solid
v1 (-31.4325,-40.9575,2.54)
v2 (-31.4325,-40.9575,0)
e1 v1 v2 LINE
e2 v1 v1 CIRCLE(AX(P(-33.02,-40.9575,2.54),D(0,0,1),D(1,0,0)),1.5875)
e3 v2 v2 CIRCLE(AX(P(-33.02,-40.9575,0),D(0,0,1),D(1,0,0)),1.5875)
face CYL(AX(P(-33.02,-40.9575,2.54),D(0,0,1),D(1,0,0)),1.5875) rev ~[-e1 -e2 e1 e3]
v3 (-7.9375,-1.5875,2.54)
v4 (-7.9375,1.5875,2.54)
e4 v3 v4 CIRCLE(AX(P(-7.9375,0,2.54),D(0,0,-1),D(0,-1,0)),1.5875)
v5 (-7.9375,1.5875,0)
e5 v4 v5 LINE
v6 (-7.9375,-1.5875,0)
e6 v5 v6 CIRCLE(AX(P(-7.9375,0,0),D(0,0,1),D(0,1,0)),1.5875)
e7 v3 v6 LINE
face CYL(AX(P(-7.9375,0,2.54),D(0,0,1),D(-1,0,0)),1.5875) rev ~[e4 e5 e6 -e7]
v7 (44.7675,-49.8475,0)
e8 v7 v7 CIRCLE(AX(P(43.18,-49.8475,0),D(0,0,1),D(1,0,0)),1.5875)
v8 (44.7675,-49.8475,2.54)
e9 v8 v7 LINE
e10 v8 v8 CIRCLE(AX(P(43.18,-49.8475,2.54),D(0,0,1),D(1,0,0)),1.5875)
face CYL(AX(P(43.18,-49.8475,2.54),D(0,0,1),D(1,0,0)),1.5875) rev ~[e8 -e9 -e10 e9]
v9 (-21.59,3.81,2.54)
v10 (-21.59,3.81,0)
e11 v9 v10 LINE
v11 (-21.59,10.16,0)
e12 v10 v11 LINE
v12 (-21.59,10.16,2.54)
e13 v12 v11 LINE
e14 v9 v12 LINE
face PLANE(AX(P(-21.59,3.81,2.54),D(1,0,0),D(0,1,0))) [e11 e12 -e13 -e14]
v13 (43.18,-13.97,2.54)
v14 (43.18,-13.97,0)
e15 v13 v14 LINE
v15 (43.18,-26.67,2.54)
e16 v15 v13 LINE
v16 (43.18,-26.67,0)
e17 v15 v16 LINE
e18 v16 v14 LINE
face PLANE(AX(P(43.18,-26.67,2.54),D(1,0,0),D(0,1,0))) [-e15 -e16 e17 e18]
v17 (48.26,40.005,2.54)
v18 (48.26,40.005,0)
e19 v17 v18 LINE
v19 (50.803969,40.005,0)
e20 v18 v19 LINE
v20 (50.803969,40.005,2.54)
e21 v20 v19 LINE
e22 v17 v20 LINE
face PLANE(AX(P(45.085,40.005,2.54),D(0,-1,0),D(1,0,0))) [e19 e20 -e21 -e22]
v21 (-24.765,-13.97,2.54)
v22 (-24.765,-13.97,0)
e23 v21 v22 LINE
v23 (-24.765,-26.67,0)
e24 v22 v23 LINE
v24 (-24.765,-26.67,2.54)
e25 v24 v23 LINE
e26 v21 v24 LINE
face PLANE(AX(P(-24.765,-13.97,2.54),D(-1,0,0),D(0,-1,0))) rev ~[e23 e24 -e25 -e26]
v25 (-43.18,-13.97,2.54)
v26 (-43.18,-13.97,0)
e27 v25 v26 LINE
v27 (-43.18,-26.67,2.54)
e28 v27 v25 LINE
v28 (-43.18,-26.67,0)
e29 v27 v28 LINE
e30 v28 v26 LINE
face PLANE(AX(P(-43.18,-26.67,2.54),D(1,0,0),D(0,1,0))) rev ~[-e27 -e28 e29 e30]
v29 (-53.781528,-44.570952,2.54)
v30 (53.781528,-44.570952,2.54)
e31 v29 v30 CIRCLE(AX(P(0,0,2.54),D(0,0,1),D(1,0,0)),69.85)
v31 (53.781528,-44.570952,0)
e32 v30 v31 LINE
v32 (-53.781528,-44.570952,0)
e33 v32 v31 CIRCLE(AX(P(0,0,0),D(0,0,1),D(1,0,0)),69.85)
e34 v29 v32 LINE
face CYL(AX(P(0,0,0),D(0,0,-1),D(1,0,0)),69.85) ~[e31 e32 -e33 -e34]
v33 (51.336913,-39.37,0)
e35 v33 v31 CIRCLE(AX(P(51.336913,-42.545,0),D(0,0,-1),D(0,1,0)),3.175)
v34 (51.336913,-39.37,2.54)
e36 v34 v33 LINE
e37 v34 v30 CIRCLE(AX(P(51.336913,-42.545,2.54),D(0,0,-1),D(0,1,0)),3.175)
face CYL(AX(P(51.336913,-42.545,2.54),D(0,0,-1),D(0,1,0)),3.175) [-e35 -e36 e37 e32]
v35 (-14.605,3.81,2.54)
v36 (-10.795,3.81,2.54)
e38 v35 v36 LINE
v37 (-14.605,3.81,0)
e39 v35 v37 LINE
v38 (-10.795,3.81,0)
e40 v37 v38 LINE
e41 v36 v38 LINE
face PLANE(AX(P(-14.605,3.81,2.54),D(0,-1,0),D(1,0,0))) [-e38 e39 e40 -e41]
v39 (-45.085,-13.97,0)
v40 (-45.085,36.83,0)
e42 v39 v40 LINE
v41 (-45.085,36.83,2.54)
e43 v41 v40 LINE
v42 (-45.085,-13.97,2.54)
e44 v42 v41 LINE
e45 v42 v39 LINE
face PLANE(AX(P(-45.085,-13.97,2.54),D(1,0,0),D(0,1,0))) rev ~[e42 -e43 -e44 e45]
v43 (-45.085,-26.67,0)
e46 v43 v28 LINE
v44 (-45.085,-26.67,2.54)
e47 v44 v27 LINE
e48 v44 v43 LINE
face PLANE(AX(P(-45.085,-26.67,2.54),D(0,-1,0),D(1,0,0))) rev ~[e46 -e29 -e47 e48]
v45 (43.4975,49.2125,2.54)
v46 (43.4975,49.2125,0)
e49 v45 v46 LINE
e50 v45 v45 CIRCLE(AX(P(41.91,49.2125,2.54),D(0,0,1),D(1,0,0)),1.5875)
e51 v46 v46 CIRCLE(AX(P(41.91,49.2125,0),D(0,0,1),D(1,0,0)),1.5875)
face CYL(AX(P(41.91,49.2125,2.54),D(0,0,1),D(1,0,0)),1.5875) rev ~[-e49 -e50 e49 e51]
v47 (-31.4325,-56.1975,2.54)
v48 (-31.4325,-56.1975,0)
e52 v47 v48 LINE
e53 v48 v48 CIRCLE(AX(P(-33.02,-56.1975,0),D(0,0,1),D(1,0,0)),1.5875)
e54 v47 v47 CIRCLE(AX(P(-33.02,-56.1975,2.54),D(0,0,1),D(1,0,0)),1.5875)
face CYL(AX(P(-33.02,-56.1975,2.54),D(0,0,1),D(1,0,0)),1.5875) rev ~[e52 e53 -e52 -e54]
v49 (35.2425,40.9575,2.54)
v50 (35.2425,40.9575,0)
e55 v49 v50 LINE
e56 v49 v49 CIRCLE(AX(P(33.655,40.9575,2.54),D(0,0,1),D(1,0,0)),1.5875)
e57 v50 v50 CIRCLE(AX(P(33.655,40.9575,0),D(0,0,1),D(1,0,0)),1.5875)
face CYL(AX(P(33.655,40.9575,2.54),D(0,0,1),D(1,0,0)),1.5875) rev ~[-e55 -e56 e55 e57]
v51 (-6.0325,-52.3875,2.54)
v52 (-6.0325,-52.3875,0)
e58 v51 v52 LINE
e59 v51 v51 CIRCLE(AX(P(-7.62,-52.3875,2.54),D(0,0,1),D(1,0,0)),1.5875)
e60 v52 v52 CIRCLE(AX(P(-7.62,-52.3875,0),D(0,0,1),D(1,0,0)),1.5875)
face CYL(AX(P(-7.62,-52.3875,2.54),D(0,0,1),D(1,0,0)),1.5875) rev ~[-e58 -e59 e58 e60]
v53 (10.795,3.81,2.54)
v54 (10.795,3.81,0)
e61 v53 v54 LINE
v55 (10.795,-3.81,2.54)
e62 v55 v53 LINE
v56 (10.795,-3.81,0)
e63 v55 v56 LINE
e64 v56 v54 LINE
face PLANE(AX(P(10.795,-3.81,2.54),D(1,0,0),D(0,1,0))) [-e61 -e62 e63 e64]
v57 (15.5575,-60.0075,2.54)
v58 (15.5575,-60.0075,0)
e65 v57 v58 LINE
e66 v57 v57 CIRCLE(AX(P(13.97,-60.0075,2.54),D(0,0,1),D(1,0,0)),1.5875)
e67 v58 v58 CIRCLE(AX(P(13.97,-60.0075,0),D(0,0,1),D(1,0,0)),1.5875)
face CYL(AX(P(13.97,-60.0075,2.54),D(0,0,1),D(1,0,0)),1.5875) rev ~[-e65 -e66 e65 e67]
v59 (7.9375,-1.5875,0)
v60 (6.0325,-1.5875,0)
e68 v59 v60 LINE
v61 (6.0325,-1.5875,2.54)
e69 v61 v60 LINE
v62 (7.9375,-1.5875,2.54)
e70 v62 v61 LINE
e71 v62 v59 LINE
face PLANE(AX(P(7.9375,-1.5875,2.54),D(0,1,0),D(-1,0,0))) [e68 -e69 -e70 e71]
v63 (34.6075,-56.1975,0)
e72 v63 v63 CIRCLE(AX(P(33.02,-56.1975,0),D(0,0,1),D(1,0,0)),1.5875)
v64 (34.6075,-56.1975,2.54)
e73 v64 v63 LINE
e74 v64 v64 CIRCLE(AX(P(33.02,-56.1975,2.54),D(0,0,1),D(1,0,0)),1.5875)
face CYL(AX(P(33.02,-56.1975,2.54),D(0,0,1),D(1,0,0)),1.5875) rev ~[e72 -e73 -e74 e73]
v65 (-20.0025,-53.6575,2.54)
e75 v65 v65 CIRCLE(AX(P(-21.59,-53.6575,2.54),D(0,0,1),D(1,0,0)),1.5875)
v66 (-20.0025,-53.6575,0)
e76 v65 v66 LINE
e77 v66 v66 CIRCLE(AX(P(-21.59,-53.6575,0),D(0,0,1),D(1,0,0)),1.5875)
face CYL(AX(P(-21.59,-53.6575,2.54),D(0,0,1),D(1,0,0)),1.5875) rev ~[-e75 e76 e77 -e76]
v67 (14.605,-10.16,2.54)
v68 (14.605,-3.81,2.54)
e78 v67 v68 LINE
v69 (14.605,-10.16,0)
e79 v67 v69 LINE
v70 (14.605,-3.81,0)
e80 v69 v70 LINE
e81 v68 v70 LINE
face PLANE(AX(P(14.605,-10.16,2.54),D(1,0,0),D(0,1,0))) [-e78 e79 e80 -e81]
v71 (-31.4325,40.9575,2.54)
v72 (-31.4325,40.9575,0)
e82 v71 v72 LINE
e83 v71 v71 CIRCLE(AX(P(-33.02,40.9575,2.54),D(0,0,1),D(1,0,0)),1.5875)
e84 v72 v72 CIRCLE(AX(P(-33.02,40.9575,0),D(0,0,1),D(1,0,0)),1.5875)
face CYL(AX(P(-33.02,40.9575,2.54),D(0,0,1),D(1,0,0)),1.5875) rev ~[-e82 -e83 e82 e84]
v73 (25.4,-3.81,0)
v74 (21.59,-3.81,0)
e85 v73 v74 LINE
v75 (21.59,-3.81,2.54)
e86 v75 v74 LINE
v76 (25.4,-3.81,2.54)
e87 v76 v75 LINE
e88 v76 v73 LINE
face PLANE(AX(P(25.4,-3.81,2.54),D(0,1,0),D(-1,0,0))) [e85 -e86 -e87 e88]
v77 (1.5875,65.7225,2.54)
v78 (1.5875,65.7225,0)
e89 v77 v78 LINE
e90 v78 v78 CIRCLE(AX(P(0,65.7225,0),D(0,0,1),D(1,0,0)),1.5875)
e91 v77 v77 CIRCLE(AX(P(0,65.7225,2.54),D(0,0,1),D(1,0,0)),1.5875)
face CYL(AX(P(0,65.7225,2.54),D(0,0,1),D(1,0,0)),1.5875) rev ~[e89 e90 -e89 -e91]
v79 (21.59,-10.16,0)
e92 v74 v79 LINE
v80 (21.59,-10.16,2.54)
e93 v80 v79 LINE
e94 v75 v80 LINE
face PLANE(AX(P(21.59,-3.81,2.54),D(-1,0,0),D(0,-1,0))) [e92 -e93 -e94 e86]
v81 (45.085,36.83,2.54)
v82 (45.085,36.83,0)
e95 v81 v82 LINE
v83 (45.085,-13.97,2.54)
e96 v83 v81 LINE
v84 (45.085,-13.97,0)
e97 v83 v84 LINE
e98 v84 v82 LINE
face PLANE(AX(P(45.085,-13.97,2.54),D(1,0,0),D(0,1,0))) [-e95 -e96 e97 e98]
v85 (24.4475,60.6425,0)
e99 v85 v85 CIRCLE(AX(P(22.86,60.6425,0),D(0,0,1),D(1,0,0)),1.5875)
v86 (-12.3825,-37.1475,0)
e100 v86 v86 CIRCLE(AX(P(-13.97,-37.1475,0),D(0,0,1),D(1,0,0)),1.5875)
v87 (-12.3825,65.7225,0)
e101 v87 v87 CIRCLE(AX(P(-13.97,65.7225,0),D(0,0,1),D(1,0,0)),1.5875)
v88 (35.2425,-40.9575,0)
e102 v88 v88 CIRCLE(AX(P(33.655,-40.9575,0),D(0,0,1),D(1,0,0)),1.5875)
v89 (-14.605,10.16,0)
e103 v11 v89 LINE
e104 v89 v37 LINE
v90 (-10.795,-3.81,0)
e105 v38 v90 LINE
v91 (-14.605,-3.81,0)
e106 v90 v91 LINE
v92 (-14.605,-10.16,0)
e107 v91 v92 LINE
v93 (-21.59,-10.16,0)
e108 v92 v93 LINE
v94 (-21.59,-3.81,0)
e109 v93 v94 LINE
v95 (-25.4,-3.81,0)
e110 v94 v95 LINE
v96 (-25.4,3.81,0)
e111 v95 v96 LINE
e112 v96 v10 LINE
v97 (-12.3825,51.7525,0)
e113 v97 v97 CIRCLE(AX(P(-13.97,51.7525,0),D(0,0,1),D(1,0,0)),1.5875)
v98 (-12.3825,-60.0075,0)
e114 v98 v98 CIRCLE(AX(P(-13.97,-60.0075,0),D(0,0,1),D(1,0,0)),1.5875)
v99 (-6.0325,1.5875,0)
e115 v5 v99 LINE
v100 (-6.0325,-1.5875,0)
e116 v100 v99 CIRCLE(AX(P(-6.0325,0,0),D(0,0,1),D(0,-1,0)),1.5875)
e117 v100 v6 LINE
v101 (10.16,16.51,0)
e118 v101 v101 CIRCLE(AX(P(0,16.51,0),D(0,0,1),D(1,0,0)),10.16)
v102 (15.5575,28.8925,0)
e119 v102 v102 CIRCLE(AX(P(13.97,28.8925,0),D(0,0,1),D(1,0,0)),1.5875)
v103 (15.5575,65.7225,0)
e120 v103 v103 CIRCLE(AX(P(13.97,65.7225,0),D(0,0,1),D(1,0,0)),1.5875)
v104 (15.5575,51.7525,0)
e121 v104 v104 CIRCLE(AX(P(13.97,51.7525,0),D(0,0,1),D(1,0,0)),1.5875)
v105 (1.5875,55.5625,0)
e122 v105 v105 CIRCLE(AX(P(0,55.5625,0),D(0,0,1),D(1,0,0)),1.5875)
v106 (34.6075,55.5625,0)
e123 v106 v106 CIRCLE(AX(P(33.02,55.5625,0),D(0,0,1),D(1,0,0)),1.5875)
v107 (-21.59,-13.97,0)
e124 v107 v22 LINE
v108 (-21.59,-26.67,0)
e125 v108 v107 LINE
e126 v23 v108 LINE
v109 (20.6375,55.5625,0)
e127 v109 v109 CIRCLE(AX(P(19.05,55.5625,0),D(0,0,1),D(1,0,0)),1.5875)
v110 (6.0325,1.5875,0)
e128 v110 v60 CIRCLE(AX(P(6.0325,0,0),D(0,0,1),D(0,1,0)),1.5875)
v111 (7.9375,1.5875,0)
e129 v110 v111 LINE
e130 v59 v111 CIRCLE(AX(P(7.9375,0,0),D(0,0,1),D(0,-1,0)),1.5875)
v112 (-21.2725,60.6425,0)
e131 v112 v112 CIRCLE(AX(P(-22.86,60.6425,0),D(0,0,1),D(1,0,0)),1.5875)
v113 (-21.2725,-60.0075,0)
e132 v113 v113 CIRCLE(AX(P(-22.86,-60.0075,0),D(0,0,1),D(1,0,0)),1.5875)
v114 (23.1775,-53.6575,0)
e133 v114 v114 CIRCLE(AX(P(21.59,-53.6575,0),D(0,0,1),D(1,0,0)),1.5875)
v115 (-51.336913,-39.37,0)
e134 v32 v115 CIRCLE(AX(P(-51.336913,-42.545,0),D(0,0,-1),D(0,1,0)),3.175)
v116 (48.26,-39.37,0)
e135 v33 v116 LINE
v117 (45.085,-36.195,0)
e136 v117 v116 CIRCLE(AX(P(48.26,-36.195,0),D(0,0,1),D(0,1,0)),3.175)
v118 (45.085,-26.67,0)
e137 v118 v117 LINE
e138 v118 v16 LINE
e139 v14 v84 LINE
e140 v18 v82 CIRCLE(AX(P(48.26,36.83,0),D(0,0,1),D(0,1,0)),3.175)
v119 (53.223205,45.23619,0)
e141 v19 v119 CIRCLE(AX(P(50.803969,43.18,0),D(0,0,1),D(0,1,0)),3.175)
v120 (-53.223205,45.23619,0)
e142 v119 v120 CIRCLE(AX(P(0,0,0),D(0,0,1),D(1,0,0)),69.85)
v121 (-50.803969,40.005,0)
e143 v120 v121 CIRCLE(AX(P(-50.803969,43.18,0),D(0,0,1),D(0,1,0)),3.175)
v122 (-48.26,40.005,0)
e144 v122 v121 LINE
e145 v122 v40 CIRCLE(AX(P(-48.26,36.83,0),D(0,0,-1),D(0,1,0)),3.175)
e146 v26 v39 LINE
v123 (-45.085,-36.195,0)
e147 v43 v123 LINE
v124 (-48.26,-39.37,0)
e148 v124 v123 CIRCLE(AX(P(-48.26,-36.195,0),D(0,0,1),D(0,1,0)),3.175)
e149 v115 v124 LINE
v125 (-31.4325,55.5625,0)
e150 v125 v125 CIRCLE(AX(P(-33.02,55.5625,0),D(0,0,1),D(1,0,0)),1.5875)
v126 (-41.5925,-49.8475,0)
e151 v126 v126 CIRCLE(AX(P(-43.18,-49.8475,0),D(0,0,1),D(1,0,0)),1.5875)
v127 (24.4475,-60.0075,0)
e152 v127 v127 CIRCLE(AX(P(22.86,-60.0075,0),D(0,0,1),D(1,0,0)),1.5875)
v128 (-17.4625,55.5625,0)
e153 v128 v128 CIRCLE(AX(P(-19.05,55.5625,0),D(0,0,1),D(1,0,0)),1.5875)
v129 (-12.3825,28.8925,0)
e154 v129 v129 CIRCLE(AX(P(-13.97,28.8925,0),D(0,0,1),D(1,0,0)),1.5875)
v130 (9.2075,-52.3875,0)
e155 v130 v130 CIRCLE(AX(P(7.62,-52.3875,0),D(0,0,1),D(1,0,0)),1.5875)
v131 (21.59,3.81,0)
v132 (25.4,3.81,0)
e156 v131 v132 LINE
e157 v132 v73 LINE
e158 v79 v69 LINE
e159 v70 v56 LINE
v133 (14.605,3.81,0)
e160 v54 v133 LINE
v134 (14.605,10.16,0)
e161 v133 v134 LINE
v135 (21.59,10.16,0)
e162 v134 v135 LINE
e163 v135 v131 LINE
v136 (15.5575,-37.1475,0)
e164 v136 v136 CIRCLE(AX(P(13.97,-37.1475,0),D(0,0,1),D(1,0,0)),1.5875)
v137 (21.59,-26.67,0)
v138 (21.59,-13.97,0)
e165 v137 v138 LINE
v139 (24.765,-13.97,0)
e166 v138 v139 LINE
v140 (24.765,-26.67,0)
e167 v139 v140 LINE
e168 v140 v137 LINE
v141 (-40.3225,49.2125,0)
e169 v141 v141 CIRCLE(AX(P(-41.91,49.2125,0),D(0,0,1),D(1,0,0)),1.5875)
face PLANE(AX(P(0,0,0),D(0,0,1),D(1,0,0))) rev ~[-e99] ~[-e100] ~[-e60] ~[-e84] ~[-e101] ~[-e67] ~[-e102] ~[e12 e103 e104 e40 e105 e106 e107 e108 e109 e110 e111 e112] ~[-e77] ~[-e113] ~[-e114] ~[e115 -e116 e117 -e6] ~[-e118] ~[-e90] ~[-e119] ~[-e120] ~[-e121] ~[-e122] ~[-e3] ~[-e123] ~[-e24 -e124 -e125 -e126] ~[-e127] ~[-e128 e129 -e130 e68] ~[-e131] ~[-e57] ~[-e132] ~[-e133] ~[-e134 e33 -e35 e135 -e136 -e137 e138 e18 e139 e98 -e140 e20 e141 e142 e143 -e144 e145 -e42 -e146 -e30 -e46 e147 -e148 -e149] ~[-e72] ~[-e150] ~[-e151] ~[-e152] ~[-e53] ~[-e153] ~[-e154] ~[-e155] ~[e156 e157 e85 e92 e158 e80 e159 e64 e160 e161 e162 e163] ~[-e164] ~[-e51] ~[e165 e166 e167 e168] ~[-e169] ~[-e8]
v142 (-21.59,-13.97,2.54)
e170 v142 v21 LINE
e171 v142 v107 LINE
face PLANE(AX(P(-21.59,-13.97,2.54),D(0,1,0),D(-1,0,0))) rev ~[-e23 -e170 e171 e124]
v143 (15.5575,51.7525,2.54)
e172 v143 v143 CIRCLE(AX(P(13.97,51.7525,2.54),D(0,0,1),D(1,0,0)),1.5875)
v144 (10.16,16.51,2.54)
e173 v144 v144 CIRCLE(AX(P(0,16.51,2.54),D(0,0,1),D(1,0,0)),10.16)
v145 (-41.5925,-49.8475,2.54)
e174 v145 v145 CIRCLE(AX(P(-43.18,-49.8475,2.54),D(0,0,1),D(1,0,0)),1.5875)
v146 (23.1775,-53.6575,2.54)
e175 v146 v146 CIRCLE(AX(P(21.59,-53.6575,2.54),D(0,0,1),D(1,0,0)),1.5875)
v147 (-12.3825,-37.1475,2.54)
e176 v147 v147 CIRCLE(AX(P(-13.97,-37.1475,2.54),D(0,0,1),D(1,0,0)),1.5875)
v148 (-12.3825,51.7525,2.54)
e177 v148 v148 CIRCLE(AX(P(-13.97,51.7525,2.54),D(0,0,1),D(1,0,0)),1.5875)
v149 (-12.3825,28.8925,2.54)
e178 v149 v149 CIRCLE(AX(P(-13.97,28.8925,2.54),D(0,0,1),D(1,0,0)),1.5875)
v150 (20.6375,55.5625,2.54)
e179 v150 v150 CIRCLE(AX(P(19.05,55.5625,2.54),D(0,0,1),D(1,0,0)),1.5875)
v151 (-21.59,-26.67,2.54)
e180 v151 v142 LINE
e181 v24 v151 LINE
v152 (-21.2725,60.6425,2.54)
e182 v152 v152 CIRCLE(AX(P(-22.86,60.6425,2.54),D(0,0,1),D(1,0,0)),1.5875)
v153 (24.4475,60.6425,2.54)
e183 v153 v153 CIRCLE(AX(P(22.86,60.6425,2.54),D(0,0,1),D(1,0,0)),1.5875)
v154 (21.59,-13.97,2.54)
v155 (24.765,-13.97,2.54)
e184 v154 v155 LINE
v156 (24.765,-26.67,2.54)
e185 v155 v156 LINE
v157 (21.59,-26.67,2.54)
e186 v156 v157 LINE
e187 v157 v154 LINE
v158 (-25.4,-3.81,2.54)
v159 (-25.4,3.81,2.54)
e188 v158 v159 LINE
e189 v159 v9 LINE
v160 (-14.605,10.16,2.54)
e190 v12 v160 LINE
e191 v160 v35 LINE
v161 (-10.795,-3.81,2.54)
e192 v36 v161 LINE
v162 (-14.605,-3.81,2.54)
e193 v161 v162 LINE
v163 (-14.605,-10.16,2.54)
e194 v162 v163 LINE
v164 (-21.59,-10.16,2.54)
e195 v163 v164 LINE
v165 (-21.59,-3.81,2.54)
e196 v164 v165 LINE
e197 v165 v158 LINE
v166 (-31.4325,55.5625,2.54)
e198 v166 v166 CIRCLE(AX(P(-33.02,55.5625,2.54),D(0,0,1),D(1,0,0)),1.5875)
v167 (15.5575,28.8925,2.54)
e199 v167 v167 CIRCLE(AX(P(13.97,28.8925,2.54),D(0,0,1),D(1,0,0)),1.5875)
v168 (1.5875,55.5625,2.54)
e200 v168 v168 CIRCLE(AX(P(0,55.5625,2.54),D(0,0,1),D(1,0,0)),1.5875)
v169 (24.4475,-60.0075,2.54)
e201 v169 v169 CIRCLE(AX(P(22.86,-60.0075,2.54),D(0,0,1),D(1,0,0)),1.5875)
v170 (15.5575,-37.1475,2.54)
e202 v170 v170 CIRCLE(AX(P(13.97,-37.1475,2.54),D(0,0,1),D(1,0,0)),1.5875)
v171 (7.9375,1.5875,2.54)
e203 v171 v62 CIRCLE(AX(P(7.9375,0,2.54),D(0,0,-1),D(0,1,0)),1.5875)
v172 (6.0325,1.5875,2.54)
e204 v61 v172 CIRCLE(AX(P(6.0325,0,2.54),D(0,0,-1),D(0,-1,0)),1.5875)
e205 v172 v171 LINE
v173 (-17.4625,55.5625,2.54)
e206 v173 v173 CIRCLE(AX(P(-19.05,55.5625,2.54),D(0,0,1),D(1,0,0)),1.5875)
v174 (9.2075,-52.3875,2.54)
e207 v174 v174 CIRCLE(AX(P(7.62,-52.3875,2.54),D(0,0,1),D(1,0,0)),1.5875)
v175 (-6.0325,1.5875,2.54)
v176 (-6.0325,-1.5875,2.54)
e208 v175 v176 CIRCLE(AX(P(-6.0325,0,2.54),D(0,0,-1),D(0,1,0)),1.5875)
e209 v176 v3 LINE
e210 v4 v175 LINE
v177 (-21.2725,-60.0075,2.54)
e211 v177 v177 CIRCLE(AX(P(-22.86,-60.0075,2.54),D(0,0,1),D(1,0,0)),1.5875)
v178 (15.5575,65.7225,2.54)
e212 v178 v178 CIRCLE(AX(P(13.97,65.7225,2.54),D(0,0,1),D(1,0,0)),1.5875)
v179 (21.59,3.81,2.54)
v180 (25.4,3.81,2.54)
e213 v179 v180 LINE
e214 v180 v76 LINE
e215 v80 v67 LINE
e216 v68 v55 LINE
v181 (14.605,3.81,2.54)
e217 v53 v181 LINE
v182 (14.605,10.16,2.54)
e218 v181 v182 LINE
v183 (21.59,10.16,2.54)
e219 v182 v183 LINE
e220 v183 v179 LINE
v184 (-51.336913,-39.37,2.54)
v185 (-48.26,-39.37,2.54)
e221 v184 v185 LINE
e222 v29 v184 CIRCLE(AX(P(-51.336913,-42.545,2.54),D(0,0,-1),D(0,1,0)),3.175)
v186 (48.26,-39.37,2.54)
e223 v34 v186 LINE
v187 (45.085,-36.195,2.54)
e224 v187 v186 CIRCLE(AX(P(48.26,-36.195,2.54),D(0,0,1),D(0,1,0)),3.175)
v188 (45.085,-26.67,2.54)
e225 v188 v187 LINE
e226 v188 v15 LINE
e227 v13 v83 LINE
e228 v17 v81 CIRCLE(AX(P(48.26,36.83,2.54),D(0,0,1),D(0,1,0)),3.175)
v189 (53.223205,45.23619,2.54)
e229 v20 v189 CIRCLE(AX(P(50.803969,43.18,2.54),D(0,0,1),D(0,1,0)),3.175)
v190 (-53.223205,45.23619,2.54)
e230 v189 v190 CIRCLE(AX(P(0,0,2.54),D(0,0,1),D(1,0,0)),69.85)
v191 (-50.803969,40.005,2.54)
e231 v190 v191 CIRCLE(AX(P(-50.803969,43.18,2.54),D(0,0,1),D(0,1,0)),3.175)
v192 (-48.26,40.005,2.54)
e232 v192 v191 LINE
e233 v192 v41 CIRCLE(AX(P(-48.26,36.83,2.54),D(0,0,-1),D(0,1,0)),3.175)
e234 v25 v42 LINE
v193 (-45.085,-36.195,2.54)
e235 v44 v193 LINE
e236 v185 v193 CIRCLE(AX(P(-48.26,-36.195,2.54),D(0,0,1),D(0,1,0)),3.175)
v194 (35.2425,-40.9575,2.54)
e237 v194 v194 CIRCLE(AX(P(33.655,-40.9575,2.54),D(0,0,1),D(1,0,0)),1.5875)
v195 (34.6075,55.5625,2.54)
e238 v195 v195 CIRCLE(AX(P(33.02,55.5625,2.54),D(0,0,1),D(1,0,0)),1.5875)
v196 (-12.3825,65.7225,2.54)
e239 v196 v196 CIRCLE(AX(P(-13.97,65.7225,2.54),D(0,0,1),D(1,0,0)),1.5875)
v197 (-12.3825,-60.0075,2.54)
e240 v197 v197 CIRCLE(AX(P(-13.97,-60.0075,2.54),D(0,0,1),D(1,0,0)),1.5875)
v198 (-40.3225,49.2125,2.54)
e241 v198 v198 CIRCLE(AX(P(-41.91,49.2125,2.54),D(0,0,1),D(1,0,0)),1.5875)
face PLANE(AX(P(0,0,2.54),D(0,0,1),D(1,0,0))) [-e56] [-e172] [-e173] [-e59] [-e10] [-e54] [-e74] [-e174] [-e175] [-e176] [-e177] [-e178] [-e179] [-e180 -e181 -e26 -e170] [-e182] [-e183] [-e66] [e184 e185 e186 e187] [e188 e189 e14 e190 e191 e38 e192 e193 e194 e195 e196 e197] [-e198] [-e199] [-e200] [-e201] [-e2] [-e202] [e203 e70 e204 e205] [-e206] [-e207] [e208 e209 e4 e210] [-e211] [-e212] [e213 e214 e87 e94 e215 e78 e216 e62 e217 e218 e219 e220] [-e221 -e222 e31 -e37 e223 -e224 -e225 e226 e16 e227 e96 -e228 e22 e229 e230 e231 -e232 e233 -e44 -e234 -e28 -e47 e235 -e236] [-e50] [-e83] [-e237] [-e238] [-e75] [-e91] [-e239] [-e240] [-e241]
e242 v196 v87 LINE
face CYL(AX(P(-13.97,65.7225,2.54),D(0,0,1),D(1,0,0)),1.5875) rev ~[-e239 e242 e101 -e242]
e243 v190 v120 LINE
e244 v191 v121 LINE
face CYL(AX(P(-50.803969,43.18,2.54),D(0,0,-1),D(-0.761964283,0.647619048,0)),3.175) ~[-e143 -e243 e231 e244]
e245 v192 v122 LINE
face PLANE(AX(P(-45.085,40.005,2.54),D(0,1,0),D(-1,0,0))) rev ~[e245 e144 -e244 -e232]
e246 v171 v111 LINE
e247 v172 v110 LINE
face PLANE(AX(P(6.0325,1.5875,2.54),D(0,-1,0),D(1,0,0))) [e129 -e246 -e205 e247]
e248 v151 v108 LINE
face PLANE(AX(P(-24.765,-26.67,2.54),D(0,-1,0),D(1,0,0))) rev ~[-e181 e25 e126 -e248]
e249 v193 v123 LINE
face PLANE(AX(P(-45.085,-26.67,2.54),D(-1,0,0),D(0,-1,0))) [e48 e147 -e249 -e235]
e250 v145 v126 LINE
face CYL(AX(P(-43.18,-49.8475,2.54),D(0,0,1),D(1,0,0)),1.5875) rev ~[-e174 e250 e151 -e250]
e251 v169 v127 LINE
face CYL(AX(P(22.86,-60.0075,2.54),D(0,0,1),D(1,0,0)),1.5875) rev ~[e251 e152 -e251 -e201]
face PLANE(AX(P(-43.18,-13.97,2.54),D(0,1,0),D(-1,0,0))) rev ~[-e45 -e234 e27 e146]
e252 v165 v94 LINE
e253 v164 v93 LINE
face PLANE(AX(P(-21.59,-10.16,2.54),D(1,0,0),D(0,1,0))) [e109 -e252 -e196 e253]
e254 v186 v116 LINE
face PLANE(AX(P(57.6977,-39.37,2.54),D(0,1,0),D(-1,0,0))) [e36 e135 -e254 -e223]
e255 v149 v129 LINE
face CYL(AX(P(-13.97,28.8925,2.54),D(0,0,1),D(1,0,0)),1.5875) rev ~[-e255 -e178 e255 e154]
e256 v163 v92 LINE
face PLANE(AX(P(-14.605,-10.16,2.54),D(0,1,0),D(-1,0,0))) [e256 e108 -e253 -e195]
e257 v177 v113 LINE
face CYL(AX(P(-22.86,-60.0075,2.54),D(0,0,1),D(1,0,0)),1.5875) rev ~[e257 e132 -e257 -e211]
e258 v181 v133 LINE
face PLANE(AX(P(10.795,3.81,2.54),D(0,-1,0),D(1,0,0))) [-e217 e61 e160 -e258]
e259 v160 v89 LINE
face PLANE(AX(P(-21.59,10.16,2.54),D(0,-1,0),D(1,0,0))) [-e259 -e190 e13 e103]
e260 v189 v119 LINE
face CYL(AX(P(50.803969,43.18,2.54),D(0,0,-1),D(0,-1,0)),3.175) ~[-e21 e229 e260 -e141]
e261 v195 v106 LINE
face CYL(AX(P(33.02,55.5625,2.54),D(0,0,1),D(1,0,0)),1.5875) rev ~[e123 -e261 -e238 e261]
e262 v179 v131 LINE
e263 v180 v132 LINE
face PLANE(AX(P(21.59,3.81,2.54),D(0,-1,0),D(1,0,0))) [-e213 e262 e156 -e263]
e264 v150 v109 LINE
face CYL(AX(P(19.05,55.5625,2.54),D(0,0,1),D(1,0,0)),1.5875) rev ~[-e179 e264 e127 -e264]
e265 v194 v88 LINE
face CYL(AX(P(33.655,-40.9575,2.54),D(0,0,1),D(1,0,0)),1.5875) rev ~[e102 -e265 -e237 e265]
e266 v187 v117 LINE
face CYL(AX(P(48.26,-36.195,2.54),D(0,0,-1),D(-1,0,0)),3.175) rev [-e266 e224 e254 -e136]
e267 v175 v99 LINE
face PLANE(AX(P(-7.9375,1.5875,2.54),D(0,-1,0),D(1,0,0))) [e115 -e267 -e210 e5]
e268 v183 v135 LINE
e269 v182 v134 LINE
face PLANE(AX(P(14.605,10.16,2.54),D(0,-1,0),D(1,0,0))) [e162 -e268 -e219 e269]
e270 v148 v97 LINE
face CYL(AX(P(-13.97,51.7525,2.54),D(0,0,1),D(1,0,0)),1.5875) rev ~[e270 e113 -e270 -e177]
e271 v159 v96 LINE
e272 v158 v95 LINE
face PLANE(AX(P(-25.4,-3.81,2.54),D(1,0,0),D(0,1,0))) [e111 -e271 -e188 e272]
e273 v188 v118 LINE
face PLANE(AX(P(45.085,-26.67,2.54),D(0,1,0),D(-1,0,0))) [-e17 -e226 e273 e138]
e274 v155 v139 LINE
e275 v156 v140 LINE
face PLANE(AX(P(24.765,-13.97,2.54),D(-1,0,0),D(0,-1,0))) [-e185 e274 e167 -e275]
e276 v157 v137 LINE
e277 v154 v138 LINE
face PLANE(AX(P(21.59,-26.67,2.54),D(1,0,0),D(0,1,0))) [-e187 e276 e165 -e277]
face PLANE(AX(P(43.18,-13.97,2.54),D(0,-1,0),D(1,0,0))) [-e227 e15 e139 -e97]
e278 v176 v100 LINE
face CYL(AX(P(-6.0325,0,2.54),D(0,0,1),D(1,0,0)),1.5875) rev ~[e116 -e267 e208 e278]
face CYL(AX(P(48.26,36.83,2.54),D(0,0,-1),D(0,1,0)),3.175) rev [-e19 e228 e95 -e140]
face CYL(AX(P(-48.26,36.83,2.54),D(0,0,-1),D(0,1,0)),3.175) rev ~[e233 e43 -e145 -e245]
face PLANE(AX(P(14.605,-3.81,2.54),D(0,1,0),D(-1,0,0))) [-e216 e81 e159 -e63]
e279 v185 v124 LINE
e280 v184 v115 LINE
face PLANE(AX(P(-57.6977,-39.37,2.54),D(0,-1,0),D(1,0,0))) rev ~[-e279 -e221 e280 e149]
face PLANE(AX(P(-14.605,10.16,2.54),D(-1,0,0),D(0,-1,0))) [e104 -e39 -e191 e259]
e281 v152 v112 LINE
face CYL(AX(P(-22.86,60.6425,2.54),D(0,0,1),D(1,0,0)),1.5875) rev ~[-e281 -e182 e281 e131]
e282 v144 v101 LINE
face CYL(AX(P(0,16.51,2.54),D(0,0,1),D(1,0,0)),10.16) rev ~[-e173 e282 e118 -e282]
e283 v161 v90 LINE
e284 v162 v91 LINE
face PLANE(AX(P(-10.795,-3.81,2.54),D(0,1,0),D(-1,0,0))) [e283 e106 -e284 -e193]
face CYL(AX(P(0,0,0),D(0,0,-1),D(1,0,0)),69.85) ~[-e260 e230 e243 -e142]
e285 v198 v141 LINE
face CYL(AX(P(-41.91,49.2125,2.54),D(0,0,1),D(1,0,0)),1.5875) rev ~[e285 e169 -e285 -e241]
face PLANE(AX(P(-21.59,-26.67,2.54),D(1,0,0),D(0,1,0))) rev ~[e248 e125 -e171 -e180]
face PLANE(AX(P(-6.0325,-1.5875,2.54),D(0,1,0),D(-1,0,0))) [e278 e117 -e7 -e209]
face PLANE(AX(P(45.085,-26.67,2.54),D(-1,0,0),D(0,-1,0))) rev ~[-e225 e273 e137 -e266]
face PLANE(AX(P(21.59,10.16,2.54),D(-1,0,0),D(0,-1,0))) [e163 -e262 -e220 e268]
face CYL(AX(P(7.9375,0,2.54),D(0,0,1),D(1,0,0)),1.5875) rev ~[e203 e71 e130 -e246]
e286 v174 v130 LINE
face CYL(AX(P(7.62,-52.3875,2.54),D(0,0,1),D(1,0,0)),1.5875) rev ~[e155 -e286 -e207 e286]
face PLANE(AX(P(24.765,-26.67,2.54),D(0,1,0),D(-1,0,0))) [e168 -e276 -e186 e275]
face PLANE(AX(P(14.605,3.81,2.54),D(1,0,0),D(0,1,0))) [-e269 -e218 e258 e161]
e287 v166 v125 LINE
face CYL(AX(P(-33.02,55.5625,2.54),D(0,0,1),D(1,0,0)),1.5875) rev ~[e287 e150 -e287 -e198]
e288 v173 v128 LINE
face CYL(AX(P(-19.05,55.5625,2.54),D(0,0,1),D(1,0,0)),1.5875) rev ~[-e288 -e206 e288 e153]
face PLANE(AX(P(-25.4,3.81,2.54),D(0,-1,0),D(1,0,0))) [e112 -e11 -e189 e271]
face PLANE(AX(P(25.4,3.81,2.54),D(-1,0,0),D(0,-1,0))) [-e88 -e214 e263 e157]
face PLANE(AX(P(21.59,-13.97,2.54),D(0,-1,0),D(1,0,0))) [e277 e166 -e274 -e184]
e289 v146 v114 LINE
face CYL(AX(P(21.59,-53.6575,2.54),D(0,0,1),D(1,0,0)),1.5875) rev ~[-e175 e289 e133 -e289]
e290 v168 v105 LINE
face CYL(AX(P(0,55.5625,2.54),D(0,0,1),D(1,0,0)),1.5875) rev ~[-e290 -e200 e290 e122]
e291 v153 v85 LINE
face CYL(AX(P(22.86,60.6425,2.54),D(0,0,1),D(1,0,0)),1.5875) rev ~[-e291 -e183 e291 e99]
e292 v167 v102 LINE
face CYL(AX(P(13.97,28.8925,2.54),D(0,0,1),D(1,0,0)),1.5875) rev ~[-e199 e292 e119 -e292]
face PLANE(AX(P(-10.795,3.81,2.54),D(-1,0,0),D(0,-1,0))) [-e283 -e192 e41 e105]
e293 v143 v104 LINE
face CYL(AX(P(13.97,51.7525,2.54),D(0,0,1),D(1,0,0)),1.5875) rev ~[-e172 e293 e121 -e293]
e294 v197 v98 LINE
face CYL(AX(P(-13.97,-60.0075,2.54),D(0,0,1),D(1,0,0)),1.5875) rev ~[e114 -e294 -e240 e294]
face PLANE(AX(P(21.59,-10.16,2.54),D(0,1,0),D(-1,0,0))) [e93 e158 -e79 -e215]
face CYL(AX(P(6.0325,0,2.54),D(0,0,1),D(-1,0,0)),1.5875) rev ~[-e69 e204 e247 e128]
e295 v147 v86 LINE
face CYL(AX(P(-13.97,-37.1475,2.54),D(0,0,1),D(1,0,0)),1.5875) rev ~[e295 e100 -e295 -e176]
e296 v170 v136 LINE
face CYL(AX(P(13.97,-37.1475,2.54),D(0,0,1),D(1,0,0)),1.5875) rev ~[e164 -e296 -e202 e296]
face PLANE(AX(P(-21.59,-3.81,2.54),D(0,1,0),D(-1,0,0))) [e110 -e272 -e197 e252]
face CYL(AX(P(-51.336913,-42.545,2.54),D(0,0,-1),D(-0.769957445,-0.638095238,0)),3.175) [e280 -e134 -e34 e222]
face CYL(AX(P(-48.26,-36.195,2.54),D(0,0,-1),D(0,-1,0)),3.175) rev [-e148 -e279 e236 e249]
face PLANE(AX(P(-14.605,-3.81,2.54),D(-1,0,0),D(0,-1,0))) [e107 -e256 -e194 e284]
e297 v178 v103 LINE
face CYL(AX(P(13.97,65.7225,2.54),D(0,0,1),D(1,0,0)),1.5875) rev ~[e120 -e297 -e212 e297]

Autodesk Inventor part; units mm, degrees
ref_plane "YZ Plane" through (0, 0, 0) normal (1, 0, 0) x (0, 1, 0)
ref_plane "XZ Plane" through (0, 0, 0) normal (0, 1, 0) x (-1, 0, 0)
ref_plane "XY Plane" through (0, 0, 0) normal (0, 0, 1) x (1, 0, 0)
sketch "Sketch1" plane through (0, 0, 0) normal (0, 0, 1) x (1, 0, 0)
  circle A0 centre (0, 0) radius 69.85
  dimension "d0" = 139.7
extrude "Extrusion1" add sketch "Sketch1" along normal blind 2.54
sketch "Sketch2" plane through (0, 0, 2.54) normal (0, 0, 1) x (1, 0, 0)
  circle A0 centre (0, 0) radius 69.85 projected
  circle A1 centre (0, 16.51) radius 10.16
  point P0 (0, 69.85)
  dimension "d97" = 53.34
  dimension "d98" = 20.32
sketch "Sketch3" plane through (0, 0, 2.54) normal (0, 0, 1) x (1, 0, 0)
  circle A0 centre (0, 0) radius 69.85 projected
  circle A1 centre (33.655, 40.9575) radius 1.5875
  circle A2 centre (-33.02, 40.9575) radius 1.5875
  circle A3 centre (33.655, -40.9575) radius 1.5875
  circle A4 centre (-33.02, -40.9575) radius 1.5875
  point P0 (0, 69.85)
  point P1 (69.85, 0)
  point P2 (0, -69.85)
  point P3 (-69.85, 0)
  dimension "d22" = 3.175
  dimension "d28" = 3.175
extrude "Extrusion4" cut sketch "Sketch3" against normal blind 25.4 contours A1 | A2 | A3 | A4
extrude "Extrusion5" cut sketch "Sketch2" against normal blind 25.4 contours A1
sketch "Sketch4" plane through (0, 0, 2.54) normal (0, 0, 1) x (1, 0, 0)
  circle A0 centre (0, 65.7225) radius 1.5875
  circle A1 centre (0, 0) radius 69.85 projected
  circle A2 centre (13.97, 65.7225) radius 1.5875
  circle A3 centre (-13.97, 65.7225) radius 1.5875
  circle A4 centre (0, 55.5625) radius 1.5875
  circle A5 centre (19.05, 55.5625) radius 1.5875
  circle A6 centre (-19.05, 55.5625) radius 1.5875
  circle A7 centre (33.02, 55.5625) radius 1.5875
  circle A8 centre (-33.02, 55.5625) radius 1.5875
  circle A9 centre (22.86, 60.6425) radius 1.5875
  circle A10 centre (-22.86, 60.6425) radius 1.5875
  circle A11 centre (41.91, 49.2125) radius 1.5875
  circle A12 centre (-41.91, 49.2125) radius 1.5875
  circle A13 centre (13.97, 51.7525) radius 1.5875
  circle A14 centre (-13.97, 51.7525) radius 1.5875
  circle A15 centre (-13.97, 28.8925) radius 1.5875
  circle A16 centre (13.97, 28.8925) radius 1.5875
  line L0 (6.0325, 1.5875) -> (7.9375, 1.5875)
  line L1 (9.525, 0) -> (9.525, 0)
  line L2 (7.9375, -1.5875) -> (6.0325, -1.5875)
  line L3 (4.445, 0) -> (4.445, 0)
  line L4 (-7.9375, 1.5875) -> (-6.0325, 1.5875)
  line L5 (-4.445, 0) -> (-4.445, 0)
  line L6 (-6.0325, -1.5875) -> (-7.9375, -1.5875)
  line L7 (-9.525, 0) -> (-9.525, 0)
  line L8 (25.4, 3.81) -> (25.4, -3.81)
  line L9 (10.795, -3.81) -> (10.795, 3.81)
  line L10 (14.605, 10.16) -> (21.59, 10.16)
  line L11 (21.59, -10.16) -> (14.605, -10.16)
  line L12 (10.795, 3.81) -> (14.605, 3.81)
  line L13 (21.59, 3.81) -> (25.4, 3.81)
  line L14 (14.605, -10.16) -> (14.605, -3.81)
  line L15 (14.605, 3.81) -> (14.605, 10.16)
  line L16 (21.59, 10.16) -> (21.59, 3.81)
  line L17 (21.59, -3.81) -> (21.59, -10.16)
  line L18 (25.4, -3.81) -> (21.59, -3.81)
  line L19 (14.605, -3.81) -> (10.795, -3.81)
  line L20 (-10.795, 3.81) -> (-10.795, -3.81)
  line L21 (-25.4, -3.81) -> (-25.4, 3.81)
  line L22 (-21.59, 10.16) -> (-14.605, 10.16)
  line L23 (-14.605, -10.16) -> (-21.59, -10.16)
  line L24 (-25.4, 3.81) -> (-21.59, 3.81)
  line L25 (-14.605, 3.81) -> (-10.795, 3.81)
  line L26 (-21.59, -10.16) -> (-21.59, -3.81)
  line L27 (-21.59, 3.81) -> (-21.59, 10.16)
  line L28 (-14.605, 10.16) -> (-14.605, 3.81)
  line L29 (-14.605, -3.81) -> (-14.605, -10.16)
  line L30 (-10.795, -3.81) -> (-14.605, -3.81)
  line L31 (-21.59, -3.81) -> (-25.4, -3.81)
  line L32 (21.59, -13.97) -> (24.765, -13.97)
  line L33 (24.765, -13.97) -> (24.765, -26.67)
  line L34 (24.765, -26.67) -> (21.59, -26.67)
  line L35 (21.59, -26.67) -> (21.59, -13.97)
  line L36 (-21.59, -13.97) -> (-24.765, -13.97)
  line L37 (-24.765, -13.97) -> (-24.765, -26.67)
  line L38 (-24.765, -26.67) -> (-21.59, -26.67)
  line L39 (-21.59, -26.67) -> (-21.59, -13.97)
  circle A17 centre (-13.97, -37.1475) radius 1.5875
  circle A18 centre (13.97, -37.1475) radius 1.5875
  circle A19 centre (-13.97, -60.0075) radius 1.5875
  circle A20 centre (13.97, -60.0075) radius 1.5875
  circle A21 centre (22.86, -60.0075) radius 1.5875
  circle A22 centre (-22.86, -60.0075) radius 1.5875
  circle A23 centre (21.59, -53.6575) radius 1.5875
  circle A24 centre (-21.59, -53.6575) radius 1.5875
  circle A25 centre (7.62, -52.3875) radius 1.5875
  circle A26 centre (-7.62, -52.3875) radius 1.5875
  circle A27 centre (33.02, -56.1975) radius 1.5875
  circle A28 centre (-33.02, -56.1975) radius 1.5875
  circle A29 centre (43.18, -49.8475) radius 1.5875
  circle A30 centre (-43.18, -49.8475) radius 1.5875
  arc A31 (-7.9375, 1.5875) -> (-9.525, 0) centre (-7.9375, 0) ccw
  arc A32 (-9.525, 0) -> (-7.9375, -1.5875) centre (-7.9375, 0) ccw
  arc A33 (-6.0325, -1.5875) -> (-4.445, 0) centre (-6.0325, 0) ccw
  arc A34 (-4.445, 0) -> (-6.0325, 1.5875) centre (-6.0325, 0) ccw
  arc A35 (6.0325, 1.5875) -> (4.445, 0) centre (6.0325, 0) ccw
  arc A36 (9.525, 0) -> (7.9375, 1.5875) centre (7.9375, 0) ccw
  arc A37 (7.9375, -1.5875) -> (9.525, 0) centre (7.9375, 0) ccw
  arc A38 (4.445, 0) -> (6.0325, -1.5875) centre (6.0325, 0) ccw
  point P0 (0, 69.85)
  point P1 (4.445, 1.5875)
  point P2 (9.525, -1.5875)
  point P3 (9.525, 1.5875)
  point P4 (-9.525, 1.5875)
  point P5 (-4.445, 1.5875)
  point P6 (-9.525, -1.5875)
  point P7 (-10.795, 3.8227)
  point P8 (-13.97, -37.1475)
  dimension "d101" = 3.175
  dimension "d102" = 4.1275
  dimension "d103" = 3.175
  dimension "d104" = 13.97
  dimension "d105" = 3.175
  dimension "d106" = 13.97
  dimension "d107" = 3.175
  dimension "d108" = 10.16
  dimension "d109" = 19.05
  dimension "d110" = 3.175
  dimension "d111" = 19.05
  dimension "d112" = 3.175
  dimension "d113" = 33.02
  dimension "d114" = 3.175
  dimension "d115" = 33.02
  dimension "d116" = 3.175
  dimension "d117" = 8.89
  dimension "d118" = 3.175
  dimension "d119" = 5.08
  dimension "d120" = 5.08
  dimension "d121" = 8.89
  dimension "d122" = 3.175
  dimension "d123" = 8.89
  dimension "d124" = 6.35
  dimension "d125" = 3.175
  dimension "d126" = 8.89
  dimension "d127" = 6.35
  dimension "d128" = 3.175
  dimension "d129" = 3.175
  dimension "d130" = 3.175
  dimension "d131" = 13.97
  dimension "d132" = 13.97
  dimension "d133" = 3.175
  dimension "d134" = 3.175
  dimension "d135" = 22.86
  dimension "d136" = 22.86
  dimension "d137" = 5.08
  dimension "d138" = 3.175
  dimension "d139" = 5.08
  dimension "d140" = 3.175
  dimension "d141" = 4.445
  dimension "d142" = 4.445
  dimension "d143" = 1.5875
  dimension "d144" = 1.27
  dimension "d145" = 14.605
  dimension "d146" = 7.62
  dimension "d148" = 20.32
  dimension "d149" = 6.985
  dimension "d150" = 10.16
  dimension "d152" = 2.2352
  dimension "d153" = 1.27
  dimension "d154" = 14.605
  dimension "d155" = 7.62
  dimension "d156" = 20.32
  dimension "d157" = 6.985
  dimension "d158" = 12.7
  dimension "d159" = 3.175
  dimension "d160" = 3.81
  dimension "d161" = 3.175
  dimension "d162" = 66.04
  dimension "d163" = 3.175
  dimension "d164" = 3.175
  dimension "d165" = 3.175
  dimension "d166" = 3.175
extrude "Extrusion6" cut sketch "Sketch4" against normal blind 2.54 contours A0 | A2 | A3 | A4 | A5 | A6 | A7 | A8 | A9 | A10 | A11 | A12 | A13 | A14 | A15 | A16 | L0 A36 A37 L2 A38 A35 | L4 A34 A33 L6 A32 A31 | L8 L18 L17 L11 L14 L19 L9 L12 L15 L10 L16 L13 | L20 L30 L29 L23 L26 L31 L21 L24 L27 L22 L28 L25 | L32 L33 L34 L35 | L39 L38 L37 L36 | A17 | A18 | A19 | A20 | A21 | A22 | A23 | A24 | A25 | A26 | A27 | A28 | A29 | A30
sketch "Sketch5" plane through (0, 0, 2.54) normal (0, 0, 1) x (1, 0, 0)
  line L0 (43.18, -13.97) -> (45.085, -13.97)
  line L1 (45.085, -26.67) -> (43.18, -26.67)
  line L2 (43.18, -26.67) -> (43.18, -13.97)
  line L3 (21.59, -13.97) -> (24.765, -13.97) projected
  line L4 (24.765, -26.67) -> (21.59, -26.67) projected
  line L5 (24.765, -13.97) -> (24.765, -26.67) projected
  line L6 (45.085, -26.67) -> (45.085, -39.37)
  circle A0 centre (0, 0) radius 69.85 projected
  line L7 (57.6977, -39.37) -> (45.085, -39.37)
  line L8 (45.085, -13.97) -> (45.085, 40.005)
  line L9 (45.085, 40.005) -> (57.2593, 40.005)
  arc A1 (57.6977, -39.37) -> (57.2593, 40.005) centre (0, 0) ccw
  line L10 (0, 0) -> (0, -8.6932)
  line L11 (-43.18, -13.97) -> (-45.085, -13.97)
  line L12 (-45.085, -26.67) -> (-43.18, -26.67)
  line L13 (-43.18, -26.67) -> (-43.18, -13.97)
  line L14 (-45.085, -26.67) -> (-45.085, -39.37)
  line L15 (-57.6977, -39.37) -> (-45.085, -39.37)
  line L16 (-45.085, -13.97) -> (-45.085, 40.005)
  line L17 (-45.085, 40.005) -> (-57.2593, 40.005)
  arc A2 (-57.2593, 40.005) -> (-57.6977, -39.37) centre (0, 0) ccw
  dimension "d199" = 18.415
  dimension "d200" = 1.905
  dimension "d201" = 12.7
  dimension "d203" = 53.975
  dimension "d205" = 12.1743
extrude "Extrusion7" cut sketch "Sketch5" against normal blind 2.54 contours L0 L8 L9 A0 L7 L6 L1 L2 | L17 L16 L11 L13 L12 L14 L15 A0
fillet "Fillet1" radius 3.175 4 edges at (45.085, -39.37, 1.27) (-45.085, -39.37, 1.27) (-45.085, 40.005, 1.27) (45.085, 40.005, 1.27)
fillet "Fillet2" radius 3.175 4 edges at (57.2593, 40.005, 1.27) (57.6977, -39.37, 1.27) (-57.6977, -39.37, 1.27) (-57.2593, 40.005, 1.27)
properties part number "TopPlate" material "Polycarbonate, Clear"
